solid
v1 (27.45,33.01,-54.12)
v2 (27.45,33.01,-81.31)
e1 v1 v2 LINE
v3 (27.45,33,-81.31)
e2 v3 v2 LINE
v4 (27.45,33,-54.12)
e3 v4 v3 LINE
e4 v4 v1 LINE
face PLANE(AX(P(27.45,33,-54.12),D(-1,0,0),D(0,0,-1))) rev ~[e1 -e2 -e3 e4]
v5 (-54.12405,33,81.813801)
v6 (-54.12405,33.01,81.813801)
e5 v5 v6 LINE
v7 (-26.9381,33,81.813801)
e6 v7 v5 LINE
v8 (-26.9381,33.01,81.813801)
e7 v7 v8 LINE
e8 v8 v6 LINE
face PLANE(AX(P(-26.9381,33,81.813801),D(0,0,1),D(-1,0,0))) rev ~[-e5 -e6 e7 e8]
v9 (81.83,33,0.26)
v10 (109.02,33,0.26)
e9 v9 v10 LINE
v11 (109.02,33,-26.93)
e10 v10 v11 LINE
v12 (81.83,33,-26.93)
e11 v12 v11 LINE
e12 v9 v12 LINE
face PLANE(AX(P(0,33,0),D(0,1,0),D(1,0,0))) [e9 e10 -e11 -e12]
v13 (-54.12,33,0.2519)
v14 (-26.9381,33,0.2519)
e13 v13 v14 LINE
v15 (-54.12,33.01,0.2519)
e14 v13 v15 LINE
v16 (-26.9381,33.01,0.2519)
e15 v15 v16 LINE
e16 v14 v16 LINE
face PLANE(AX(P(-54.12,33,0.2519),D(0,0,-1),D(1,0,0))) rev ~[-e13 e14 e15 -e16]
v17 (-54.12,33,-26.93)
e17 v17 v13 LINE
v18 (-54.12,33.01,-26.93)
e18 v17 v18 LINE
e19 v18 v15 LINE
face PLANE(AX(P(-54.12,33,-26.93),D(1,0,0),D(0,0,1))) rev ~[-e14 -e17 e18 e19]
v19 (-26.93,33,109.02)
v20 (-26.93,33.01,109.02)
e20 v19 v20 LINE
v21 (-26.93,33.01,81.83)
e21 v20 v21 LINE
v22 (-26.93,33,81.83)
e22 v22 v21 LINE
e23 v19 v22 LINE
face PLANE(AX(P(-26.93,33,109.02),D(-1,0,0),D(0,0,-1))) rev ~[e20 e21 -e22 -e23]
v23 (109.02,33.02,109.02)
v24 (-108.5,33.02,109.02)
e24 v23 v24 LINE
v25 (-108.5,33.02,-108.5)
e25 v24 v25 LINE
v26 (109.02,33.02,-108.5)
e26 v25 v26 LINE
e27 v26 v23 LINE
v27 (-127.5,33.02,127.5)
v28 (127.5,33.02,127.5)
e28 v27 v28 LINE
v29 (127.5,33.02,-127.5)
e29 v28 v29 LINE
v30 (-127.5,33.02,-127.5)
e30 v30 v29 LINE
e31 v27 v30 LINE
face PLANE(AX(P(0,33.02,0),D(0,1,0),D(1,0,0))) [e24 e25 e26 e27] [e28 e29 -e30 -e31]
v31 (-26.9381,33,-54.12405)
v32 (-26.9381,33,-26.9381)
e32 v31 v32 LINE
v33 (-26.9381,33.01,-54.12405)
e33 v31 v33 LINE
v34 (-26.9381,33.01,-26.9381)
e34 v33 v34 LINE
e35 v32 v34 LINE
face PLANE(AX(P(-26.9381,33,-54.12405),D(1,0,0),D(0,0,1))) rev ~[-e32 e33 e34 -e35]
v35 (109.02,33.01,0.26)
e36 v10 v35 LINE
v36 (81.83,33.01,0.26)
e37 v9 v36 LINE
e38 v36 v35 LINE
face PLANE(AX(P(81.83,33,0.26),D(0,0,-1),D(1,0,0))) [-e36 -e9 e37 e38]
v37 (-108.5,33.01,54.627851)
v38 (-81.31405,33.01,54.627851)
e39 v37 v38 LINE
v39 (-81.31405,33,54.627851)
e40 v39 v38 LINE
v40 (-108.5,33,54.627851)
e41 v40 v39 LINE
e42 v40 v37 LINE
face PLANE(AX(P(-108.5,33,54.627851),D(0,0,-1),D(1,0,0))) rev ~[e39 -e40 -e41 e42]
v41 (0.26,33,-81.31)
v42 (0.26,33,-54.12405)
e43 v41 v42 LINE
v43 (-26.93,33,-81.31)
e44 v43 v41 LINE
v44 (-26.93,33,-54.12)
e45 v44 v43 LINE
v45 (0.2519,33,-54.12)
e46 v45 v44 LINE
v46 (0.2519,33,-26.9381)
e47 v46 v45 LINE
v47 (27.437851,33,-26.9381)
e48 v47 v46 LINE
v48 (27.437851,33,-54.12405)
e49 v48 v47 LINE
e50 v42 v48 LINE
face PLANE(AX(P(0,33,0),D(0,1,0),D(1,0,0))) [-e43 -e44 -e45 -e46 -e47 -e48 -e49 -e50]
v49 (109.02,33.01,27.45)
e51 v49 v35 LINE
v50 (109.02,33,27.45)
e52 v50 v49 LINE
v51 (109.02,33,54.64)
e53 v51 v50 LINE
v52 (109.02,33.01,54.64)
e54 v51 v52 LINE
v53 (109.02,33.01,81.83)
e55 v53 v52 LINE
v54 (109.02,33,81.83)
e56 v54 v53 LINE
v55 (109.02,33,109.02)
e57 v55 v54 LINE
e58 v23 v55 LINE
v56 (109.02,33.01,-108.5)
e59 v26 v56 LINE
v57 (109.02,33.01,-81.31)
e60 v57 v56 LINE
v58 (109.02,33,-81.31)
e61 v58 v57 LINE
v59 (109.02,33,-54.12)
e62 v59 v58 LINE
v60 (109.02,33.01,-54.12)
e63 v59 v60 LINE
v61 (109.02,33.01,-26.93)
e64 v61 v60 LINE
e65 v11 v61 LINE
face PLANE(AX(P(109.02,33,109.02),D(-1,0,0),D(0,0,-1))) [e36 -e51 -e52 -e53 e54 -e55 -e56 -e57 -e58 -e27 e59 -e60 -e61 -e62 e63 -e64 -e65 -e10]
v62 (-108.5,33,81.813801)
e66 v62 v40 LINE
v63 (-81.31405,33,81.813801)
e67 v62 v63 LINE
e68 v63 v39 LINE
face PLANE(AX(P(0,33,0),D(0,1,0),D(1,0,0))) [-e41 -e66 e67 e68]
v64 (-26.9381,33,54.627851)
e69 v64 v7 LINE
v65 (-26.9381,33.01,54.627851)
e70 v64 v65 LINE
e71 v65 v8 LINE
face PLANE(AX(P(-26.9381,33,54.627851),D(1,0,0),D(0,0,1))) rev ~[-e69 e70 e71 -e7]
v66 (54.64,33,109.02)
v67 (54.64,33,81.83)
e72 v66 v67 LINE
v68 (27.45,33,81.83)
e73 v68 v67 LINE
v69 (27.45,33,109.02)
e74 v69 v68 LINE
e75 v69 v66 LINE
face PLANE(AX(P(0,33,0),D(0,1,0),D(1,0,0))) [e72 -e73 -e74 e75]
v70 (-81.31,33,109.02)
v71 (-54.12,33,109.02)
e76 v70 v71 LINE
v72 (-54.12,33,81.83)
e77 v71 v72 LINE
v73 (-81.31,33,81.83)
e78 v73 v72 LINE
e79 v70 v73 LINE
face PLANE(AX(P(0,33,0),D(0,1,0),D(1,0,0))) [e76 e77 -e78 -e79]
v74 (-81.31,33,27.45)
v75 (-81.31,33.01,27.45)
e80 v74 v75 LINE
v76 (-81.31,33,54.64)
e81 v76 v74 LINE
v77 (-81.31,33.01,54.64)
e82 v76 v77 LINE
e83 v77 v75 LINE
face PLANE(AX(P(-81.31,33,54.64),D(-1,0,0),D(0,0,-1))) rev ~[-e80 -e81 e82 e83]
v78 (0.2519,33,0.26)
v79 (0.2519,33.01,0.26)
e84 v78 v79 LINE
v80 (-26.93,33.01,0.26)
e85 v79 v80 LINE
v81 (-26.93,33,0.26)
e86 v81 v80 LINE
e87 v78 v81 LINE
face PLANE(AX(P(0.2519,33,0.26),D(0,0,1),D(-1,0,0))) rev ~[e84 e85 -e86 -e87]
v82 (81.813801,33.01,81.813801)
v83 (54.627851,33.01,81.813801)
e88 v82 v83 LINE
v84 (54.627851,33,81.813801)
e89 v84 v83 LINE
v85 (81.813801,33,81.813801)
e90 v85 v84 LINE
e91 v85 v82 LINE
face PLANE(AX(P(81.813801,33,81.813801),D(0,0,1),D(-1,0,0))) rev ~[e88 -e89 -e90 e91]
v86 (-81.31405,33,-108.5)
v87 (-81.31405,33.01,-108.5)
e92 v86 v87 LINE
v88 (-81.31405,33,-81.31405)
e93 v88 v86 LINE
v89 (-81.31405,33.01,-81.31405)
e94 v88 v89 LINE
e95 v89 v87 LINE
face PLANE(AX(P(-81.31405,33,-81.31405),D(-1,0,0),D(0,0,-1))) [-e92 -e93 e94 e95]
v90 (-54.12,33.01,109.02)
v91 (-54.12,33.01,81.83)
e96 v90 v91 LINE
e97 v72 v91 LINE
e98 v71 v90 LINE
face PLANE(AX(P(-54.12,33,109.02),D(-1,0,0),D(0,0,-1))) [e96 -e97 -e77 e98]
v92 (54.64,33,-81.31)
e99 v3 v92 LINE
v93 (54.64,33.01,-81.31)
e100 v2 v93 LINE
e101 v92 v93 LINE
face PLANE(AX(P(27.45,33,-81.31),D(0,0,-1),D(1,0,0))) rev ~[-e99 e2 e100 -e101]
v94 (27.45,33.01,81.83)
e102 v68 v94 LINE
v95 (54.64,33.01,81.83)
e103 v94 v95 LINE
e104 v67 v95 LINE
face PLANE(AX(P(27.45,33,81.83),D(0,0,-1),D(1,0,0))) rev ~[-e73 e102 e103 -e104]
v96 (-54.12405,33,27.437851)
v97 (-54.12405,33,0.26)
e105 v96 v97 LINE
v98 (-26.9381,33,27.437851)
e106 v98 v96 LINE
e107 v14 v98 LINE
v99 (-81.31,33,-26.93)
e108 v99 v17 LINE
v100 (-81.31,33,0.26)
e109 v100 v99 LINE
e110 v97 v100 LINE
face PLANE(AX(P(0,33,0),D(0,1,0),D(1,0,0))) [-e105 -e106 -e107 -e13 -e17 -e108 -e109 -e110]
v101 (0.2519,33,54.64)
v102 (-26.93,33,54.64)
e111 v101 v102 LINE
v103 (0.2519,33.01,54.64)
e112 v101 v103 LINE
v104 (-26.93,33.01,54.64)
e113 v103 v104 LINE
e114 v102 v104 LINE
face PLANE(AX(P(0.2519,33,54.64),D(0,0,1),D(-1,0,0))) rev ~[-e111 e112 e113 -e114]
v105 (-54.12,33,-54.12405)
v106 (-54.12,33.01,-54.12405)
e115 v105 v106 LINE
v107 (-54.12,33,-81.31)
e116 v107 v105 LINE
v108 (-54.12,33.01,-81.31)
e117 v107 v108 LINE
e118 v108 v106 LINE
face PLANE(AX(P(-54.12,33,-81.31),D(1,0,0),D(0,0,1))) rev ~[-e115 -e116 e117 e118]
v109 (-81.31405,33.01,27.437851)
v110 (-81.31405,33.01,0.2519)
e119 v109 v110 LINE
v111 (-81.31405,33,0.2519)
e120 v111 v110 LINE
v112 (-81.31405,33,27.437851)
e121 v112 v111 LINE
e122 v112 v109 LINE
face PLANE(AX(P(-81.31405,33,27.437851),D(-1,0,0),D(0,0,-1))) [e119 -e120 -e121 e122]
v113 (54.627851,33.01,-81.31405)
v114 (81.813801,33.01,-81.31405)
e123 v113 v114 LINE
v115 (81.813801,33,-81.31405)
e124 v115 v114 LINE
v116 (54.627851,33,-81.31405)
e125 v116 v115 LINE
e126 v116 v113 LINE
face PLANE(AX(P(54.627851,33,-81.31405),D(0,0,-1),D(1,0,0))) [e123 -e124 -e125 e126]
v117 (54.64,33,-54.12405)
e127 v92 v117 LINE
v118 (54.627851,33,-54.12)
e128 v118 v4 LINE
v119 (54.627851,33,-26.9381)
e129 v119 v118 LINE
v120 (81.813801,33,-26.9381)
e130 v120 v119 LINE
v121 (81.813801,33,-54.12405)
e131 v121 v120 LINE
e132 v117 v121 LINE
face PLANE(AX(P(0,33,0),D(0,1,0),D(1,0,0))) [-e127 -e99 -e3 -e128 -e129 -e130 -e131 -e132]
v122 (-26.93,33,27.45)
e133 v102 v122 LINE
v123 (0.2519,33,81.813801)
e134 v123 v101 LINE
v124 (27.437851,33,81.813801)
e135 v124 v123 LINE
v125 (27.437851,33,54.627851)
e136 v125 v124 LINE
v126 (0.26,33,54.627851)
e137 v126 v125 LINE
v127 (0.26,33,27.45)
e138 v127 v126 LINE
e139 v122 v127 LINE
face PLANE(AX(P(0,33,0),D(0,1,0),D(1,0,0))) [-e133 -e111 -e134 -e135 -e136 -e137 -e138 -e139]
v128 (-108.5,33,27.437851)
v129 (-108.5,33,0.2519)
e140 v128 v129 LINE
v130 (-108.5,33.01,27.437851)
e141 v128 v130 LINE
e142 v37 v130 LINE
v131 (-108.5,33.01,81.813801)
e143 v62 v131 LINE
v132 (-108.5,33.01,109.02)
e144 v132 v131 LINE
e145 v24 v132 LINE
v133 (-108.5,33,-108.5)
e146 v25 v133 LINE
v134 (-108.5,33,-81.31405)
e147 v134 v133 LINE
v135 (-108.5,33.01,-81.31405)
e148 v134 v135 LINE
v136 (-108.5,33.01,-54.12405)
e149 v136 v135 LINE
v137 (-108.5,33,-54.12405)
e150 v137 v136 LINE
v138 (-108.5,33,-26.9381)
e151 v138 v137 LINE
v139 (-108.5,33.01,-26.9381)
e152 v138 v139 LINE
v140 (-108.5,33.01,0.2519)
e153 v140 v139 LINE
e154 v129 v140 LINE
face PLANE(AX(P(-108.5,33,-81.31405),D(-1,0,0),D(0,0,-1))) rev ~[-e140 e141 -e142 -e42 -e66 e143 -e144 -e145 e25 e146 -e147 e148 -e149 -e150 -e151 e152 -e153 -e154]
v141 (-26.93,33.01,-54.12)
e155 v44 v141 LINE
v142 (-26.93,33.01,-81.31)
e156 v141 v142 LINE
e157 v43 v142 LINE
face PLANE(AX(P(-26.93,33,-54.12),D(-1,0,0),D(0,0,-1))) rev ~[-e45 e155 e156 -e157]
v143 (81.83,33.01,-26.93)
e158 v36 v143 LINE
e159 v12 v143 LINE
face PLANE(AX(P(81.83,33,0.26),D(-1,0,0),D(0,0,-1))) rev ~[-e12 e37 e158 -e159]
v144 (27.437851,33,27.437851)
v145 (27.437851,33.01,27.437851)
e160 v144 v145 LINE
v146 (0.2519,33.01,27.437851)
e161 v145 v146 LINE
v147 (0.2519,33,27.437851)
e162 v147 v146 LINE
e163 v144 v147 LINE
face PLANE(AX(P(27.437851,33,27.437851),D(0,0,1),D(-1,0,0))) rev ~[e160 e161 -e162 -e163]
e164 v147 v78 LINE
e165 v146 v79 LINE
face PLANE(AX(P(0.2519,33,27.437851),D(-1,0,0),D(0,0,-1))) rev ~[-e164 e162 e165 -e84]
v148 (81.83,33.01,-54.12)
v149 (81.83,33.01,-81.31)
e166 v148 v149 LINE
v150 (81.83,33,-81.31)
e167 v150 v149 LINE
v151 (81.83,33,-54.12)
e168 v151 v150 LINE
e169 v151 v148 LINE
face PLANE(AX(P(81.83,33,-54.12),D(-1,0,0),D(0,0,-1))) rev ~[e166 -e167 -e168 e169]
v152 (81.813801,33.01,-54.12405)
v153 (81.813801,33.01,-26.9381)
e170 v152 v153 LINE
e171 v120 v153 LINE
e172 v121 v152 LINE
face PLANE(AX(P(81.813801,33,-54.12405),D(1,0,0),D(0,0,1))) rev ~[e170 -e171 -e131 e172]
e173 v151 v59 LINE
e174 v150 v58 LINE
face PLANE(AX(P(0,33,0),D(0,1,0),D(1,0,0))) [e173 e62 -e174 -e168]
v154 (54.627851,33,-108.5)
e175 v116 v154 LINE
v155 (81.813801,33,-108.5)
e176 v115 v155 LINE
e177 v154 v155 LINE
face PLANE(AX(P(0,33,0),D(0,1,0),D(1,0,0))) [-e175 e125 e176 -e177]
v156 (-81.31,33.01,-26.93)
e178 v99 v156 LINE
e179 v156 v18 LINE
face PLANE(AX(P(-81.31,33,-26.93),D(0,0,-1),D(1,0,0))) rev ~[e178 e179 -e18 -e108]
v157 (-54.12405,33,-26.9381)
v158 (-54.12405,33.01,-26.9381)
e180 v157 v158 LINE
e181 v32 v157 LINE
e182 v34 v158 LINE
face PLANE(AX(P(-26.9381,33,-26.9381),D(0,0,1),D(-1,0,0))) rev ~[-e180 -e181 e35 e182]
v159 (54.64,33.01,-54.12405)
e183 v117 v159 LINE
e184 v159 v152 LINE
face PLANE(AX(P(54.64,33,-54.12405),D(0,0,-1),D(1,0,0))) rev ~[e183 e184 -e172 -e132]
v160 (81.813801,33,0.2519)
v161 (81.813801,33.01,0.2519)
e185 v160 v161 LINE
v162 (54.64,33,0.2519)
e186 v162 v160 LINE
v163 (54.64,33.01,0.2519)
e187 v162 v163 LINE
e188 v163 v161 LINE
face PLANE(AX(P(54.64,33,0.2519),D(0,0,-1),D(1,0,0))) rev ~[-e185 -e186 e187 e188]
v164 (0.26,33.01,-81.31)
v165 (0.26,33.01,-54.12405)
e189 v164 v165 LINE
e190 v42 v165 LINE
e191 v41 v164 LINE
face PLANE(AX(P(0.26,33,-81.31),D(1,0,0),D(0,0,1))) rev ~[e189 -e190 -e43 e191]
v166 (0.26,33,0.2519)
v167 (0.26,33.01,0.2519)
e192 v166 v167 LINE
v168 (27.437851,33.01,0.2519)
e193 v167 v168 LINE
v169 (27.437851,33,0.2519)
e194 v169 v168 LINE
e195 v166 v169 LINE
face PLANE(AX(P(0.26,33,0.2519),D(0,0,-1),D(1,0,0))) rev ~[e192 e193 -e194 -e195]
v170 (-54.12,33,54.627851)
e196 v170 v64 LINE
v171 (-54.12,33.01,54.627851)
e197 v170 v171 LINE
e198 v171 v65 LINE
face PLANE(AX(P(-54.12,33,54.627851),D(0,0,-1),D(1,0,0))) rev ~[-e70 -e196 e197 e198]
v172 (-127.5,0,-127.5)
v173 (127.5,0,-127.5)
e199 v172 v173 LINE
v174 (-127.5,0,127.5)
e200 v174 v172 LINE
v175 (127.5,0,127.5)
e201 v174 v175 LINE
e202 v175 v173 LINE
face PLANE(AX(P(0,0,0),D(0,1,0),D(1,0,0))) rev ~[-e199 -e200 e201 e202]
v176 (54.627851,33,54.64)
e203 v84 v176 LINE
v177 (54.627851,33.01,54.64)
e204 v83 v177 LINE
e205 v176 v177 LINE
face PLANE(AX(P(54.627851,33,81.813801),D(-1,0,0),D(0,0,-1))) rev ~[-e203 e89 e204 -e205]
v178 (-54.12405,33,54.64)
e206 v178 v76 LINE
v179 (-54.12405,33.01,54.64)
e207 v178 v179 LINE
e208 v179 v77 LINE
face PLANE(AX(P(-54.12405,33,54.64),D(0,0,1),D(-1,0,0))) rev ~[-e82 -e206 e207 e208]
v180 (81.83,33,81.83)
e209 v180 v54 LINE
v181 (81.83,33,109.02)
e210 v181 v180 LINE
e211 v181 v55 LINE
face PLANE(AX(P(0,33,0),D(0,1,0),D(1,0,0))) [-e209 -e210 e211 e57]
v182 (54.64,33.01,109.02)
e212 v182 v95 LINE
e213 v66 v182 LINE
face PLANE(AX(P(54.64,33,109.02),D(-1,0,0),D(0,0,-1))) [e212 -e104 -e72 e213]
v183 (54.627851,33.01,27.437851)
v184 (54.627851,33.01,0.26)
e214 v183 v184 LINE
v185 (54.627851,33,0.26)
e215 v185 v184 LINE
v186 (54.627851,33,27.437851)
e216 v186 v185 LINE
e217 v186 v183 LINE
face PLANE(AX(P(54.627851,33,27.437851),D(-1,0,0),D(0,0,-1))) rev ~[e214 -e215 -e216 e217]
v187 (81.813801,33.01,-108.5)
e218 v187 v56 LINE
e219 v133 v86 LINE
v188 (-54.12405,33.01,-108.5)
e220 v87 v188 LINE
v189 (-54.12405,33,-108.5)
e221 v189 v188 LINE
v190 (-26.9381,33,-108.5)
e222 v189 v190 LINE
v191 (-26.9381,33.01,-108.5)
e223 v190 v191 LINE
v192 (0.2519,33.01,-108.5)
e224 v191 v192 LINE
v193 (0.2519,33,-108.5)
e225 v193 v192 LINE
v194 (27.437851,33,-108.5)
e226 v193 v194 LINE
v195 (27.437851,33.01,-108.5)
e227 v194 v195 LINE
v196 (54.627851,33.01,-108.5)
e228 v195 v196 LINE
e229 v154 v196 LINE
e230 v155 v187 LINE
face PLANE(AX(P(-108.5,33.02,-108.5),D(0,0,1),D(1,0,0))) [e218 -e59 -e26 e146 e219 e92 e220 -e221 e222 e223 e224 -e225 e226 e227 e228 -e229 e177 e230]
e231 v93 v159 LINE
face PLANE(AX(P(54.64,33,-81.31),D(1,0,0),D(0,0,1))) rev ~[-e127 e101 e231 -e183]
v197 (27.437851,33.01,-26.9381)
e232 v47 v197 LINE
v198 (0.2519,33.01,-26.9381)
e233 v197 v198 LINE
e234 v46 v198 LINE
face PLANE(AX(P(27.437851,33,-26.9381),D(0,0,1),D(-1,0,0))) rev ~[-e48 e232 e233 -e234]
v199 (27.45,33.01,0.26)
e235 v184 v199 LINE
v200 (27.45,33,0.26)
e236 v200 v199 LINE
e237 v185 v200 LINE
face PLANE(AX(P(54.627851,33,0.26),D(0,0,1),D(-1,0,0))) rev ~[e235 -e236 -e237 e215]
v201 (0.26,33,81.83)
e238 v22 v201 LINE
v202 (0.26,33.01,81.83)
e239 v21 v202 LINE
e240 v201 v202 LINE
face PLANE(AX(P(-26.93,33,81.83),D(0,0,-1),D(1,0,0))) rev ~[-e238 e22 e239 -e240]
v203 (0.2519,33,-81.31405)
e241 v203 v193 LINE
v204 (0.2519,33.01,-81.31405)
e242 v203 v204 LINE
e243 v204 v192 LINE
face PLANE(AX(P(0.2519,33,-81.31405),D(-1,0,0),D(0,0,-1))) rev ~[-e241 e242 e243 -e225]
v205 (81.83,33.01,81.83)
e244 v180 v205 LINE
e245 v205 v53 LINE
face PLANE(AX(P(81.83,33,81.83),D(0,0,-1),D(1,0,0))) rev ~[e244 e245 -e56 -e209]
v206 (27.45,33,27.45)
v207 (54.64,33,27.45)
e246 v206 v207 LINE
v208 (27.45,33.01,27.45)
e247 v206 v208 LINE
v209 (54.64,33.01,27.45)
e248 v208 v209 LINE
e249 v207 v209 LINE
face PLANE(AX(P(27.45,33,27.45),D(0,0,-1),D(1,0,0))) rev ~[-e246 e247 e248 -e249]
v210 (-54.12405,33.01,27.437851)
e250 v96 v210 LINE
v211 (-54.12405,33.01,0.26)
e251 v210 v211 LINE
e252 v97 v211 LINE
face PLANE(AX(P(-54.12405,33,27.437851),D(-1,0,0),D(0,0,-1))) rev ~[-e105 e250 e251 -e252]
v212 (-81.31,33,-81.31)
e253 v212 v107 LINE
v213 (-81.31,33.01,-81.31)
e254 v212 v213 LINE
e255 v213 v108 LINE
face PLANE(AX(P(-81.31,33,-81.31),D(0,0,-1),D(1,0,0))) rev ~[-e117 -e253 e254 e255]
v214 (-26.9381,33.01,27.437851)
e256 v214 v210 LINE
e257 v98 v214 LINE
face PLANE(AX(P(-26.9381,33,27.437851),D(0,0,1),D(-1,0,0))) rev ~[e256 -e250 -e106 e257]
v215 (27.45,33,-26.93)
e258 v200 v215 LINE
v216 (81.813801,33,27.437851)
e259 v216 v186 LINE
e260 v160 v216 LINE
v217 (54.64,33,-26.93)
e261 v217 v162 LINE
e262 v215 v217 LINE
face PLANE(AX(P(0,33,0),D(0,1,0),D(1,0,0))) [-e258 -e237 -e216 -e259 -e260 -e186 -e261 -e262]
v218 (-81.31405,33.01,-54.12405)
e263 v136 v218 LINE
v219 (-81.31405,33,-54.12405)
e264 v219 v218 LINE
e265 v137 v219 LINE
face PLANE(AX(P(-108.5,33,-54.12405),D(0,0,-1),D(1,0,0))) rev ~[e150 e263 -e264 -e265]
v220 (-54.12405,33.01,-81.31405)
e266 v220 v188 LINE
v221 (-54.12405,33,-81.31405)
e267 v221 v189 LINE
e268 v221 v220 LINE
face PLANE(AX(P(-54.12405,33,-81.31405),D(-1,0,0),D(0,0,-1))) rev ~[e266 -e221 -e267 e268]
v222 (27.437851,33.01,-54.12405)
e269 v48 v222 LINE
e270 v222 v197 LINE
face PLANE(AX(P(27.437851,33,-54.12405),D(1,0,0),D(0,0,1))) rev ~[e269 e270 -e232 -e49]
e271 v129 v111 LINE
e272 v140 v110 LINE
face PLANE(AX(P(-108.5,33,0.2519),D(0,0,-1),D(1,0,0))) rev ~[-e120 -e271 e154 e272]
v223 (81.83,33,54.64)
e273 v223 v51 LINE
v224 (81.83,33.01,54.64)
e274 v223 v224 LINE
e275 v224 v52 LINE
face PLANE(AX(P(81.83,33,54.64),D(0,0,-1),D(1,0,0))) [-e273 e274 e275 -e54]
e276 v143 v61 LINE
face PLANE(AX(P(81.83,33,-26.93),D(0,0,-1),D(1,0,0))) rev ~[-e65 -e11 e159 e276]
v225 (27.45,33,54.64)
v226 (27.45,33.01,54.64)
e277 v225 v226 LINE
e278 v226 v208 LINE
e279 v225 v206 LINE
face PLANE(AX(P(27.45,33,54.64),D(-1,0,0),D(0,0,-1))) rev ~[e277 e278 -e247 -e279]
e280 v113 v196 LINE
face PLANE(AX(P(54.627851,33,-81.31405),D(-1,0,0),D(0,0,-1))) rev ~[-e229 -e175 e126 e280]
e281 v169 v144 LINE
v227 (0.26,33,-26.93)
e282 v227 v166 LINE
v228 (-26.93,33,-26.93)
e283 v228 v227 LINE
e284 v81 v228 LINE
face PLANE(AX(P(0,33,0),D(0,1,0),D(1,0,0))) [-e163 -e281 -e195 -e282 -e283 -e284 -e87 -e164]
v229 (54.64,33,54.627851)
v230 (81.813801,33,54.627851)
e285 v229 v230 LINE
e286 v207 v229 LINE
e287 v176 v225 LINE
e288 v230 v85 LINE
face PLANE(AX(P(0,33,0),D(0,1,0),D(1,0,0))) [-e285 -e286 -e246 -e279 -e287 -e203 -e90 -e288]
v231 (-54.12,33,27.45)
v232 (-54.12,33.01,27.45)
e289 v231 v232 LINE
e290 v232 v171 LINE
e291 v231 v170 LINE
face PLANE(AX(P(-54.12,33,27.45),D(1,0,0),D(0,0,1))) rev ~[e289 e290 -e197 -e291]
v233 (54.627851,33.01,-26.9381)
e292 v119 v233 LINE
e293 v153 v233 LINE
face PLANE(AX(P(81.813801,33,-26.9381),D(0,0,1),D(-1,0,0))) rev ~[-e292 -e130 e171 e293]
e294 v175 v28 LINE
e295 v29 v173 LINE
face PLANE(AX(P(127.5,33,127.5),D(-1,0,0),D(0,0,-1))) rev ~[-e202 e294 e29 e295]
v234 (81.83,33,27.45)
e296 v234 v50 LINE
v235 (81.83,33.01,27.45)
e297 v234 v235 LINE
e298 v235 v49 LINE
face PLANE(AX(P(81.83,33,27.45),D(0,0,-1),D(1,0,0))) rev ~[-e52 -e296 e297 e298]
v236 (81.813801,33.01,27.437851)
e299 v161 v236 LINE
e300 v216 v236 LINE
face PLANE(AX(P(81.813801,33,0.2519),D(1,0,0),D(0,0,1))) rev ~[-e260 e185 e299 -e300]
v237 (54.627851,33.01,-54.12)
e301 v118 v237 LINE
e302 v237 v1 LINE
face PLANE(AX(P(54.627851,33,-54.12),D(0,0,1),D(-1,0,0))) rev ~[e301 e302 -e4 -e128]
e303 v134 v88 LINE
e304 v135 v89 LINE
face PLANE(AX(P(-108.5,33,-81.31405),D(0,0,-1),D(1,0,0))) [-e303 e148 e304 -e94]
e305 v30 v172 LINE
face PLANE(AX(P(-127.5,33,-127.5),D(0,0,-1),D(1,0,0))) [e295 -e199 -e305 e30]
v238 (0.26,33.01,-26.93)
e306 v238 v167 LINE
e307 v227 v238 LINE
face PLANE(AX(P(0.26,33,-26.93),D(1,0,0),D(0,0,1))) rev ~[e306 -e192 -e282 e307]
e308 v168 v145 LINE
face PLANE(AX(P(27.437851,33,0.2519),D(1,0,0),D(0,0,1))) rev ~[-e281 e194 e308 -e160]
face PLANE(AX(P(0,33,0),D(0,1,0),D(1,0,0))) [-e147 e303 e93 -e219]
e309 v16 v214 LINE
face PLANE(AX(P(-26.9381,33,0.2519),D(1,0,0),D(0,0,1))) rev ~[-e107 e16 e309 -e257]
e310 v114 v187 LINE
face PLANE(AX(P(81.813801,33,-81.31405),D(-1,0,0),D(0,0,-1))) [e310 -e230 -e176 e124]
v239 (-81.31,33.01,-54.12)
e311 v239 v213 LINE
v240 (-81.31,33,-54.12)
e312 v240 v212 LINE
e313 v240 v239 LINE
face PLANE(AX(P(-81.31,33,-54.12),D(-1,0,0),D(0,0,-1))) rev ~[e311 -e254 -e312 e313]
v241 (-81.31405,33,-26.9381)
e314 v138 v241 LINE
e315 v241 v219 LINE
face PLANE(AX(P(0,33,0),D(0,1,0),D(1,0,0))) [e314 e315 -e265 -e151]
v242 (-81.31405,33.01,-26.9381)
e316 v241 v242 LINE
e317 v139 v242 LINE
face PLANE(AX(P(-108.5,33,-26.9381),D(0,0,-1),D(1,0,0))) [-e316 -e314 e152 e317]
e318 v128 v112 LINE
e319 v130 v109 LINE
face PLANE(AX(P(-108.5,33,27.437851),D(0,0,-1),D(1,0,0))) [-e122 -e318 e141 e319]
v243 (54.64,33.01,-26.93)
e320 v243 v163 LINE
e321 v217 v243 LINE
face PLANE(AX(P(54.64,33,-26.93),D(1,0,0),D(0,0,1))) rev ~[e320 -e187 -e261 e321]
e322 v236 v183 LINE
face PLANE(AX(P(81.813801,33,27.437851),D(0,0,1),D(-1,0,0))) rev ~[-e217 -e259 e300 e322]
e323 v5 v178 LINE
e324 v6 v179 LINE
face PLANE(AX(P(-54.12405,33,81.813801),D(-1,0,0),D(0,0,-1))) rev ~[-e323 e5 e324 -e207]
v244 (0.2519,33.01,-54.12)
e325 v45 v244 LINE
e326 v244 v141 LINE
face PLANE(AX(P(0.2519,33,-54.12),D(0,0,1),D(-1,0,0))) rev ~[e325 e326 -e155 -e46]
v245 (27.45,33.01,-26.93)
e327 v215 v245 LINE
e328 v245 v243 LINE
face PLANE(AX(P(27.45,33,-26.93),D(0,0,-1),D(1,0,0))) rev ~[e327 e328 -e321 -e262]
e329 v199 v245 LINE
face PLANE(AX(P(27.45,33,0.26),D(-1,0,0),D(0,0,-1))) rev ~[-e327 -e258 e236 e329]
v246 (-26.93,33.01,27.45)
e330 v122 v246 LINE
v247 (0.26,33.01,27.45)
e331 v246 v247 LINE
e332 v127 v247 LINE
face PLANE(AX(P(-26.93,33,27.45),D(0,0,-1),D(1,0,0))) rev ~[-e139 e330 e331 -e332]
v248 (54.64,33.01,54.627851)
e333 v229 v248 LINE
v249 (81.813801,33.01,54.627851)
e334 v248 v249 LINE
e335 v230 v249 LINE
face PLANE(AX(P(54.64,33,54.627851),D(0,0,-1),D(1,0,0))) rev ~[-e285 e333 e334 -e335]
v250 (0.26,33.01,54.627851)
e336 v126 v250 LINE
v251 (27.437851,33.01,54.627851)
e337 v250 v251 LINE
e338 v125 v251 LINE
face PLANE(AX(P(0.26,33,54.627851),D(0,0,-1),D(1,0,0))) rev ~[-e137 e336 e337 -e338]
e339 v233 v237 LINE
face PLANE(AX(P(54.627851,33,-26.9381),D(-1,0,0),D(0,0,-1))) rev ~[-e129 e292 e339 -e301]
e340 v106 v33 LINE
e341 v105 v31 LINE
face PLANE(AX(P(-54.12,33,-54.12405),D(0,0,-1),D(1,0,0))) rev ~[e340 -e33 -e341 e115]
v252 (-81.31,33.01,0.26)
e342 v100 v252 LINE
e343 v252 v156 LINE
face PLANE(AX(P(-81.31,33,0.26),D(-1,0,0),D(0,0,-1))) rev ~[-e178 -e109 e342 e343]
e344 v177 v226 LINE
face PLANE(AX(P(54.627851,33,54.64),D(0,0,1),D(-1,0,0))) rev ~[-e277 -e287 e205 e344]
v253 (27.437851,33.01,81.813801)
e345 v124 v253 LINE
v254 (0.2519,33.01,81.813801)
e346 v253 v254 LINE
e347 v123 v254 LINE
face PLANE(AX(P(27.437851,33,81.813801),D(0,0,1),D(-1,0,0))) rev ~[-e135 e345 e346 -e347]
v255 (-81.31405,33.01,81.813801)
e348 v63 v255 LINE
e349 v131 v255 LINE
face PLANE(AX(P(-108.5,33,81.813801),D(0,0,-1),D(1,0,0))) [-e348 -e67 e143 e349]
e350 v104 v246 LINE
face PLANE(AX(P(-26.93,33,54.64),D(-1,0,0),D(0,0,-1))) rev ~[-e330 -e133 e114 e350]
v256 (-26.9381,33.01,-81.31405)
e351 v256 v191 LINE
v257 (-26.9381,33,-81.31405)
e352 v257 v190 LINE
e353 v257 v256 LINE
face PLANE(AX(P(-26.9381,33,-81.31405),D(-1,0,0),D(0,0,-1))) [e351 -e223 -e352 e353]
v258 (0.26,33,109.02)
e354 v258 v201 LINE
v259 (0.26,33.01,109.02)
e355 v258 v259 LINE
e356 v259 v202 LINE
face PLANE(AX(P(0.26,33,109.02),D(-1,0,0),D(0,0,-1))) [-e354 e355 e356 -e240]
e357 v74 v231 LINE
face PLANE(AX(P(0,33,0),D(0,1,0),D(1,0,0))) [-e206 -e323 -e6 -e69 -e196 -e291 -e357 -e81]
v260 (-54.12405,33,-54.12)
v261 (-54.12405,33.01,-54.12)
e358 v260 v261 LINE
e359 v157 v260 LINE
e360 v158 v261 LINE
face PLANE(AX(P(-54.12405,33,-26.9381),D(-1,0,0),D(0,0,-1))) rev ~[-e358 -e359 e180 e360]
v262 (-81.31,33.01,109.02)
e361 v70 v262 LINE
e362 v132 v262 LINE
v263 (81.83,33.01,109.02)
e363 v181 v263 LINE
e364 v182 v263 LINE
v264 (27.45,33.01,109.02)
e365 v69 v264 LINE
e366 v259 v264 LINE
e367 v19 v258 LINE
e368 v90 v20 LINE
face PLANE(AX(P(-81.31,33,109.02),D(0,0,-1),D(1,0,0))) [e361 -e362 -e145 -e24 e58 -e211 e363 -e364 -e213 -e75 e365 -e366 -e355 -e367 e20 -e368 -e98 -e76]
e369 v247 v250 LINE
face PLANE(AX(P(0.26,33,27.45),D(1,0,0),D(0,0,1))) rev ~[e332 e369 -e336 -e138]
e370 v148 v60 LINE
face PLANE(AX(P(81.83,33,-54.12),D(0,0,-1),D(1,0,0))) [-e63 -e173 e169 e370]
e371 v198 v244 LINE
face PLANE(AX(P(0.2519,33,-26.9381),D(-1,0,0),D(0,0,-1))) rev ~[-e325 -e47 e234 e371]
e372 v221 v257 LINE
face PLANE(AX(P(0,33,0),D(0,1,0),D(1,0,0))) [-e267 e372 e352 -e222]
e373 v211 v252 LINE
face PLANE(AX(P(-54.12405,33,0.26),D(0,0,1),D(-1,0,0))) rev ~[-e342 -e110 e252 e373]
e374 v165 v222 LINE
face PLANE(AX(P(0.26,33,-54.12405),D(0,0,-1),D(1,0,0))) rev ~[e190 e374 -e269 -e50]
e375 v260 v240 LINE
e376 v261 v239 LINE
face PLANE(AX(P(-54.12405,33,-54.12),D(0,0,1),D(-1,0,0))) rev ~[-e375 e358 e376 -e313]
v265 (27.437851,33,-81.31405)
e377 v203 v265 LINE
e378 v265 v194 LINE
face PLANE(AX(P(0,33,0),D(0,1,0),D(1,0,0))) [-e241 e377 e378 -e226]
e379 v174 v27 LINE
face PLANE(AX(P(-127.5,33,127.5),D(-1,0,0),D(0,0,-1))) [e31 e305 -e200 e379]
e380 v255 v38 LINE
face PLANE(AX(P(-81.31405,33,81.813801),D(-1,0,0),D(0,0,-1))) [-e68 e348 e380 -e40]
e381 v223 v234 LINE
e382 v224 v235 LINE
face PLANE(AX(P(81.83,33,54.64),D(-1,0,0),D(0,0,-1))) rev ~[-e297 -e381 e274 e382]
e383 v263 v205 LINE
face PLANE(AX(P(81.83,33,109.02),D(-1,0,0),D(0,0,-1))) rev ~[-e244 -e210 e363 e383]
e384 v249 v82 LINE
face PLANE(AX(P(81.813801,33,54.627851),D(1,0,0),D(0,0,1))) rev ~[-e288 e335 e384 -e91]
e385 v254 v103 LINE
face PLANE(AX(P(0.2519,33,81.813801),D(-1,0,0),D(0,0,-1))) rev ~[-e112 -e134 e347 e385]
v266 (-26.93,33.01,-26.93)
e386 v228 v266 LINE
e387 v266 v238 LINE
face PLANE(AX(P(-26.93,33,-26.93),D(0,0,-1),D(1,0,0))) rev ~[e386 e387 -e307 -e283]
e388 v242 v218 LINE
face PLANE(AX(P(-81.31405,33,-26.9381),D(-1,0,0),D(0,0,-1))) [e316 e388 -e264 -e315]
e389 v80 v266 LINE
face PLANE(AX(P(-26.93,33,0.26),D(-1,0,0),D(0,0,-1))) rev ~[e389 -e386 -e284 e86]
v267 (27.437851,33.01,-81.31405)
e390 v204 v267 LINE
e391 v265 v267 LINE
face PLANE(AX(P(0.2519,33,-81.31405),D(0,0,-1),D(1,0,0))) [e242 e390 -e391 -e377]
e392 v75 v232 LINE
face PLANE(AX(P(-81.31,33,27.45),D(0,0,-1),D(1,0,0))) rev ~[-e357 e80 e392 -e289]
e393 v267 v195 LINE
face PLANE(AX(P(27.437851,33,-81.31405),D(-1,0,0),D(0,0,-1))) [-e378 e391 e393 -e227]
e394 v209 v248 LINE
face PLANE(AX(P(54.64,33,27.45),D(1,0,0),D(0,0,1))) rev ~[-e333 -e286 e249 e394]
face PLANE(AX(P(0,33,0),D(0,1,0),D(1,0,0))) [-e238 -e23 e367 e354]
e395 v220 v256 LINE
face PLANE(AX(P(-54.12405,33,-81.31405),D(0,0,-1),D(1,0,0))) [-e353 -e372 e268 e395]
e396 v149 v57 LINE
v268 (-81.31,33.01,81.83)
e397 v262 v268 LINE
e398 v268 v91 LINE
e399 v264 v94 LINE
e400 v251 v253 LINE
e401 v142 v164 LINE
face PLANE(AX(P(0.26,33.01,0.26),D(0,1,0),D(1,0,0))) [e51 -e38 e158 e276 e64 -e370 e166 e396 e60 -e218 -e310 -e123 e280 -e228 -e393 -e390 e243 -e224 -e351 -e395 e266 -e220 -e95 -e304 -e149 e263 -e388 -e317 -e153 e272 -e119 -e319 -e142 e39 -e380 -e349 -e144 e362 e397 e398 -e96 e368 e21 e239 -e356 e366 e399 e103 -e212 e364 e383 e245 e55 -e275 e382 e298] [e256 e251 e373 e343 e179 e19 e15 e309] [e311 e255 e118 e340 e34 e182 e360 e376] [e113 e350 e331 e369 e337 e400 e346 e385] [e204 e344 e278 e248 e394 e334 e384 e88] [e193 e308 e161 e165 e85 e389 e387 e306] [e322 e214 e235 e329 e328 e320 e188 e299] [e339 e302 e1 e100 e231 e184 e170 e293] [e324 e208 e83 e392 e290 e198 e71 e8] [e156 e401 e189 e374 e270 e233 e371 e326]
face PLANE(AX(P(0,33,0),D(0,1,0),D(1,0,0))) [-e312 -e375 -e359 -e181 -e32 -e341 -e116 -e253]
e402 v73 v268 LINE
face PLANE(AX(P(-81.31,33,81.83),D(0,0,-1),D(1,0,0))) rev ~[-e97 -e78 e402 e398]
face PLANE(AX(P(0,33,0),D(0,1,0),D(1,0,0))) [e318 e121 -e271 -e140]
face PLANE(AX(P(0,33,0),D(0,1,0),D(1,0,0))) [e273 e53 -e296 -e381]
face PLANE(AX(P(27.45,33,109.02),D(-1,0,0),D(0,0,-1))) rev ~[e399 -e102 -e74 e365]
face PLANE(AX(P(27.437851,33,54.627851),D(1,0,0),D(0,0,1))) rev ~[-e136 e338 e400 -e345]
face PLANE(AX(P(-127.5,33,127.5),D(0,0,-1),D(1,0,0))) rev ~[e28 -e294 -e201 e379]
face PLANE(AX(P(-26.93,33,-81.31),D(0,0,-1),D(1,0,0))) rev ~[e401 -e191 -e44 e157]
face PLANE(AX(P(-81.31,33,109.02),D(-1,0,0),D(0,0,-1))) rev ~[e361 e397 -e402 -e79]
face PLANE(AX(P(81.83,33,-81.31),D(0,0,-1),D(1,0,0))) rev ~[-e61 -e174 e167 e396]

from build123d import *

# Parameters (mm, degrees)
SKETCH1_W           = 255
SKETCH1_H           = 255
BOSS_EXTRUDE1_DEPTH = 33
SKETCH2_W           = 255
SKETCH2_H           = 255
SKETCH2_W_2         = 27.1859502
SKETCH2_H_2         = 27.1859502
SKETCH2_W_3         = 27.19
SKETCH2_H_3         = 27.19
BOSS_EXTRUDE3_DEPTH = 0.02
SKETCH3_W           = 217.52
SKETCH3_H           = 217.52
CUT_EXTRUDE4_DEPTH  = 0.01


with BuildPart() as part:
    # Sketch1 → Boss-Extrude1 (new body)
    with BuildSketch(Plane(origin=(0, 0, 0), x_dir=(1, 0, 0), z_dir=(0, 1, 0))):
        Rectangle(SKETCH1_W, SKETCH1_H)
    extrude(amount=BOSS_EXTRUDE1_DEPTH)

    # Sketch2 → Boss-Extrude3 (add)
    with BuildSketch(Plane(origin=(0, 33, 0), x_dir=(1, 0, 0), z_dir=(0, 1, 0))):
        Rectangle(SKETCH2_W, SKETCH2_H)
        with Locations((-94.9070249, -68.2208257)):
            Rectangle(SKETCH2_W_2, SKETCH2_H_2, mode=Mode.SUBTRACT)
        with Locations((-94.9070249, -13.8448755)):
            Rectangle(SKETCH2_W_2, SKETCH2_H_2, mode=Mode.SUBTRACT)
        with Locations((-94.9070249, 40.5310747)):
            Rectangle(SKETCH2_W_2, SKETCH2_H_2, mode=Mode.SUBTRACT)
        with Locations((-94.9070249, 94.9070249)):
            Rectangle(SKETCH2_W_2, SKETCH2_H_2, mode=Mode.SUBTRACT)
        with Locations((-67.715, -95.425)):
            Rectangle(SKETCH2_W_3, SKETCH2_H_3, mode=Mode.SUBTRACT)
        with Locations((-13.335, -95.425)):
            Rectangle(SKETCH2_W_3, SKETCH2_H_3, mode=Mode.SUBTRACT)
        Polygon((-54.12, -27.45), (-54.12, -54.6278506), (-26.9380996, -54.6278506), (-26.9380996, -81.8138008), (-54.1240498, -81.8138008), (-54.1240498, -54.64), (-81.31, -54.64), (-81.31, -27.45), align=None, mode=Mode.SUBTRACT)
        Polygon((-54.12, 26.93), (-54.12, -0.2519004), (-26.9380996, -0.2519004), (-26.9380996, -27.4378506), (-54.1240498, -27.4378506), (-54.1240498, -0.26), (-81.31, -0.26), (-81.31, 26.93), align=None, mode=Mode.SUBTRACT)
        with Locations((41.045, -95.425)):
            Rectangle(SKETCH2_W_3, SKETCH2_H_3, mode=Mode.SUBTRACT)
        with Locations((95.425, -95.425)):
            Rectangle(SKETCH2_W_3, SKETCH2_H_3, mode=Mode.SUBTRACT)
        Polygon((0.26, -27.45), (0.26, -54.6278506), (27.4378506, -54.6278506), (27.4378506, -81.8138008), (0.2519004, -81.8138008), (0.2519004, -54.64), (-26.93, -54.64), (-26.93, -27.45), align=None, mode=Mode.SUBTRACT)
        Polygon((54.64, -27.45), (54.64, -54.6278506), (81.8138008, -54.6278506), (81.8138008, -81.8138008), (54.6278506, -81.8138008), (54.6278506, -54.64), (27.45, -54.64), (27.45, -27.45), align=None, mode=Mode.SUBTRACT)
        Polygon((0.26, 26.93), (0.26, -0.2519004), (27.4378506, -0.2519004), (27.4378506, -27.4378506), (0.2519004, -27.4378506), (0.2519004, -0.26), (-26.93, -0.26), (-26.93, 26.93), align=None, mode=Mode.SUBTRACT)
        Polygon((54.64, 26.93), (54.64, -0.2519004), (81.8138008, -0.2519004), (81.8138008, -27.4378506), (54.6278506, -27.4378506), (54.6278506, -0.26), (27.45, -0.26), (27.45, 26.93), align=None, mode=Mode.SUBTRACT)
        with Locations((95.425, -41.045)):
            Rectangle(SKETCH2_W_3, SKETCH2_H_3, mode=Mode.SUBTRACT)
        Polygon((-54.12, 81.31), (-54.12, 54.1240498), (-26.9380996, 54.1240498), (-26.9380996, 26.9380996), (-54.1240498, 26.9380996), (-54.1240498, 54.12), (-81.31, 54.12), (-81.31, 81.31), align=None, mode=Mode.SUBTRACT)
        with Locations((-40.5310747, 94.9070249)):
            Rectangle(SKETCH2_W_2, SKETCH2_H_2, mode=Mode.SUBTRACT)
        Polygon((0.26, 81.31), (0.26, 54.1240498), (27.4378506, 54.1240498), (27.4378506, 26.9380996), (0.2519004, 26.9380996), (0.2519004, 54.12), (-26.93, 54.12), (-26.93, 81.31), align=None, mode=Mode.SUBTRACT)
        Polygon((54.64, 81.31), (54.64, 54.1240498), (81.8138008, 54.1240498), (81.8138008, 26.9380996), (54.6278506, 26.9380996), (54.6278506, 54.12), (27.45, 54.12), (27.45, 81.31), align=None, mode=Mode.SUBTRACT)
        with Locations((95.425, 13.335)):
            Rectangle(SKETCH2_W_3, SKETCH2_H_3, mode=Mode.SUBTRACT)
        with Locations((13.8448755, 94.9070249)):
            Rectangle(SKETCH2_W_2, SKETCH2_H_2, mode=Mode.SUBTRACT)
        with Locations((95.425, 67.715)):
            Rectangle(SKETCH2_W_3, SKETCH2_H_3, mode=Mode.SUBTRACT)
        with Locations((68.2208257, 94.9070249)):
            Rectangle(SKETCH2_W_2, SKETCH2_H_2, mode=Mode.SUBTRACT)
    extrude(amount=BOSS_EXTRUDE3_DEPTH)

    # Sketch3 → Cut-Extrude4 (cut)
    with BuildSketch(Plane(origin=(0, 33.02, 0), x_dir=(1, 0, 0), z_dir=(0, 1, 0))):
        with Locations((0.26, -0.26)):
            Rectangle(SKETCH3_W, SKETCH3_H)
    extrude(amount=-CUT_EXTRUDE4_DEPTH, mode=Mode.SUBTRACT)


solid = part.part
